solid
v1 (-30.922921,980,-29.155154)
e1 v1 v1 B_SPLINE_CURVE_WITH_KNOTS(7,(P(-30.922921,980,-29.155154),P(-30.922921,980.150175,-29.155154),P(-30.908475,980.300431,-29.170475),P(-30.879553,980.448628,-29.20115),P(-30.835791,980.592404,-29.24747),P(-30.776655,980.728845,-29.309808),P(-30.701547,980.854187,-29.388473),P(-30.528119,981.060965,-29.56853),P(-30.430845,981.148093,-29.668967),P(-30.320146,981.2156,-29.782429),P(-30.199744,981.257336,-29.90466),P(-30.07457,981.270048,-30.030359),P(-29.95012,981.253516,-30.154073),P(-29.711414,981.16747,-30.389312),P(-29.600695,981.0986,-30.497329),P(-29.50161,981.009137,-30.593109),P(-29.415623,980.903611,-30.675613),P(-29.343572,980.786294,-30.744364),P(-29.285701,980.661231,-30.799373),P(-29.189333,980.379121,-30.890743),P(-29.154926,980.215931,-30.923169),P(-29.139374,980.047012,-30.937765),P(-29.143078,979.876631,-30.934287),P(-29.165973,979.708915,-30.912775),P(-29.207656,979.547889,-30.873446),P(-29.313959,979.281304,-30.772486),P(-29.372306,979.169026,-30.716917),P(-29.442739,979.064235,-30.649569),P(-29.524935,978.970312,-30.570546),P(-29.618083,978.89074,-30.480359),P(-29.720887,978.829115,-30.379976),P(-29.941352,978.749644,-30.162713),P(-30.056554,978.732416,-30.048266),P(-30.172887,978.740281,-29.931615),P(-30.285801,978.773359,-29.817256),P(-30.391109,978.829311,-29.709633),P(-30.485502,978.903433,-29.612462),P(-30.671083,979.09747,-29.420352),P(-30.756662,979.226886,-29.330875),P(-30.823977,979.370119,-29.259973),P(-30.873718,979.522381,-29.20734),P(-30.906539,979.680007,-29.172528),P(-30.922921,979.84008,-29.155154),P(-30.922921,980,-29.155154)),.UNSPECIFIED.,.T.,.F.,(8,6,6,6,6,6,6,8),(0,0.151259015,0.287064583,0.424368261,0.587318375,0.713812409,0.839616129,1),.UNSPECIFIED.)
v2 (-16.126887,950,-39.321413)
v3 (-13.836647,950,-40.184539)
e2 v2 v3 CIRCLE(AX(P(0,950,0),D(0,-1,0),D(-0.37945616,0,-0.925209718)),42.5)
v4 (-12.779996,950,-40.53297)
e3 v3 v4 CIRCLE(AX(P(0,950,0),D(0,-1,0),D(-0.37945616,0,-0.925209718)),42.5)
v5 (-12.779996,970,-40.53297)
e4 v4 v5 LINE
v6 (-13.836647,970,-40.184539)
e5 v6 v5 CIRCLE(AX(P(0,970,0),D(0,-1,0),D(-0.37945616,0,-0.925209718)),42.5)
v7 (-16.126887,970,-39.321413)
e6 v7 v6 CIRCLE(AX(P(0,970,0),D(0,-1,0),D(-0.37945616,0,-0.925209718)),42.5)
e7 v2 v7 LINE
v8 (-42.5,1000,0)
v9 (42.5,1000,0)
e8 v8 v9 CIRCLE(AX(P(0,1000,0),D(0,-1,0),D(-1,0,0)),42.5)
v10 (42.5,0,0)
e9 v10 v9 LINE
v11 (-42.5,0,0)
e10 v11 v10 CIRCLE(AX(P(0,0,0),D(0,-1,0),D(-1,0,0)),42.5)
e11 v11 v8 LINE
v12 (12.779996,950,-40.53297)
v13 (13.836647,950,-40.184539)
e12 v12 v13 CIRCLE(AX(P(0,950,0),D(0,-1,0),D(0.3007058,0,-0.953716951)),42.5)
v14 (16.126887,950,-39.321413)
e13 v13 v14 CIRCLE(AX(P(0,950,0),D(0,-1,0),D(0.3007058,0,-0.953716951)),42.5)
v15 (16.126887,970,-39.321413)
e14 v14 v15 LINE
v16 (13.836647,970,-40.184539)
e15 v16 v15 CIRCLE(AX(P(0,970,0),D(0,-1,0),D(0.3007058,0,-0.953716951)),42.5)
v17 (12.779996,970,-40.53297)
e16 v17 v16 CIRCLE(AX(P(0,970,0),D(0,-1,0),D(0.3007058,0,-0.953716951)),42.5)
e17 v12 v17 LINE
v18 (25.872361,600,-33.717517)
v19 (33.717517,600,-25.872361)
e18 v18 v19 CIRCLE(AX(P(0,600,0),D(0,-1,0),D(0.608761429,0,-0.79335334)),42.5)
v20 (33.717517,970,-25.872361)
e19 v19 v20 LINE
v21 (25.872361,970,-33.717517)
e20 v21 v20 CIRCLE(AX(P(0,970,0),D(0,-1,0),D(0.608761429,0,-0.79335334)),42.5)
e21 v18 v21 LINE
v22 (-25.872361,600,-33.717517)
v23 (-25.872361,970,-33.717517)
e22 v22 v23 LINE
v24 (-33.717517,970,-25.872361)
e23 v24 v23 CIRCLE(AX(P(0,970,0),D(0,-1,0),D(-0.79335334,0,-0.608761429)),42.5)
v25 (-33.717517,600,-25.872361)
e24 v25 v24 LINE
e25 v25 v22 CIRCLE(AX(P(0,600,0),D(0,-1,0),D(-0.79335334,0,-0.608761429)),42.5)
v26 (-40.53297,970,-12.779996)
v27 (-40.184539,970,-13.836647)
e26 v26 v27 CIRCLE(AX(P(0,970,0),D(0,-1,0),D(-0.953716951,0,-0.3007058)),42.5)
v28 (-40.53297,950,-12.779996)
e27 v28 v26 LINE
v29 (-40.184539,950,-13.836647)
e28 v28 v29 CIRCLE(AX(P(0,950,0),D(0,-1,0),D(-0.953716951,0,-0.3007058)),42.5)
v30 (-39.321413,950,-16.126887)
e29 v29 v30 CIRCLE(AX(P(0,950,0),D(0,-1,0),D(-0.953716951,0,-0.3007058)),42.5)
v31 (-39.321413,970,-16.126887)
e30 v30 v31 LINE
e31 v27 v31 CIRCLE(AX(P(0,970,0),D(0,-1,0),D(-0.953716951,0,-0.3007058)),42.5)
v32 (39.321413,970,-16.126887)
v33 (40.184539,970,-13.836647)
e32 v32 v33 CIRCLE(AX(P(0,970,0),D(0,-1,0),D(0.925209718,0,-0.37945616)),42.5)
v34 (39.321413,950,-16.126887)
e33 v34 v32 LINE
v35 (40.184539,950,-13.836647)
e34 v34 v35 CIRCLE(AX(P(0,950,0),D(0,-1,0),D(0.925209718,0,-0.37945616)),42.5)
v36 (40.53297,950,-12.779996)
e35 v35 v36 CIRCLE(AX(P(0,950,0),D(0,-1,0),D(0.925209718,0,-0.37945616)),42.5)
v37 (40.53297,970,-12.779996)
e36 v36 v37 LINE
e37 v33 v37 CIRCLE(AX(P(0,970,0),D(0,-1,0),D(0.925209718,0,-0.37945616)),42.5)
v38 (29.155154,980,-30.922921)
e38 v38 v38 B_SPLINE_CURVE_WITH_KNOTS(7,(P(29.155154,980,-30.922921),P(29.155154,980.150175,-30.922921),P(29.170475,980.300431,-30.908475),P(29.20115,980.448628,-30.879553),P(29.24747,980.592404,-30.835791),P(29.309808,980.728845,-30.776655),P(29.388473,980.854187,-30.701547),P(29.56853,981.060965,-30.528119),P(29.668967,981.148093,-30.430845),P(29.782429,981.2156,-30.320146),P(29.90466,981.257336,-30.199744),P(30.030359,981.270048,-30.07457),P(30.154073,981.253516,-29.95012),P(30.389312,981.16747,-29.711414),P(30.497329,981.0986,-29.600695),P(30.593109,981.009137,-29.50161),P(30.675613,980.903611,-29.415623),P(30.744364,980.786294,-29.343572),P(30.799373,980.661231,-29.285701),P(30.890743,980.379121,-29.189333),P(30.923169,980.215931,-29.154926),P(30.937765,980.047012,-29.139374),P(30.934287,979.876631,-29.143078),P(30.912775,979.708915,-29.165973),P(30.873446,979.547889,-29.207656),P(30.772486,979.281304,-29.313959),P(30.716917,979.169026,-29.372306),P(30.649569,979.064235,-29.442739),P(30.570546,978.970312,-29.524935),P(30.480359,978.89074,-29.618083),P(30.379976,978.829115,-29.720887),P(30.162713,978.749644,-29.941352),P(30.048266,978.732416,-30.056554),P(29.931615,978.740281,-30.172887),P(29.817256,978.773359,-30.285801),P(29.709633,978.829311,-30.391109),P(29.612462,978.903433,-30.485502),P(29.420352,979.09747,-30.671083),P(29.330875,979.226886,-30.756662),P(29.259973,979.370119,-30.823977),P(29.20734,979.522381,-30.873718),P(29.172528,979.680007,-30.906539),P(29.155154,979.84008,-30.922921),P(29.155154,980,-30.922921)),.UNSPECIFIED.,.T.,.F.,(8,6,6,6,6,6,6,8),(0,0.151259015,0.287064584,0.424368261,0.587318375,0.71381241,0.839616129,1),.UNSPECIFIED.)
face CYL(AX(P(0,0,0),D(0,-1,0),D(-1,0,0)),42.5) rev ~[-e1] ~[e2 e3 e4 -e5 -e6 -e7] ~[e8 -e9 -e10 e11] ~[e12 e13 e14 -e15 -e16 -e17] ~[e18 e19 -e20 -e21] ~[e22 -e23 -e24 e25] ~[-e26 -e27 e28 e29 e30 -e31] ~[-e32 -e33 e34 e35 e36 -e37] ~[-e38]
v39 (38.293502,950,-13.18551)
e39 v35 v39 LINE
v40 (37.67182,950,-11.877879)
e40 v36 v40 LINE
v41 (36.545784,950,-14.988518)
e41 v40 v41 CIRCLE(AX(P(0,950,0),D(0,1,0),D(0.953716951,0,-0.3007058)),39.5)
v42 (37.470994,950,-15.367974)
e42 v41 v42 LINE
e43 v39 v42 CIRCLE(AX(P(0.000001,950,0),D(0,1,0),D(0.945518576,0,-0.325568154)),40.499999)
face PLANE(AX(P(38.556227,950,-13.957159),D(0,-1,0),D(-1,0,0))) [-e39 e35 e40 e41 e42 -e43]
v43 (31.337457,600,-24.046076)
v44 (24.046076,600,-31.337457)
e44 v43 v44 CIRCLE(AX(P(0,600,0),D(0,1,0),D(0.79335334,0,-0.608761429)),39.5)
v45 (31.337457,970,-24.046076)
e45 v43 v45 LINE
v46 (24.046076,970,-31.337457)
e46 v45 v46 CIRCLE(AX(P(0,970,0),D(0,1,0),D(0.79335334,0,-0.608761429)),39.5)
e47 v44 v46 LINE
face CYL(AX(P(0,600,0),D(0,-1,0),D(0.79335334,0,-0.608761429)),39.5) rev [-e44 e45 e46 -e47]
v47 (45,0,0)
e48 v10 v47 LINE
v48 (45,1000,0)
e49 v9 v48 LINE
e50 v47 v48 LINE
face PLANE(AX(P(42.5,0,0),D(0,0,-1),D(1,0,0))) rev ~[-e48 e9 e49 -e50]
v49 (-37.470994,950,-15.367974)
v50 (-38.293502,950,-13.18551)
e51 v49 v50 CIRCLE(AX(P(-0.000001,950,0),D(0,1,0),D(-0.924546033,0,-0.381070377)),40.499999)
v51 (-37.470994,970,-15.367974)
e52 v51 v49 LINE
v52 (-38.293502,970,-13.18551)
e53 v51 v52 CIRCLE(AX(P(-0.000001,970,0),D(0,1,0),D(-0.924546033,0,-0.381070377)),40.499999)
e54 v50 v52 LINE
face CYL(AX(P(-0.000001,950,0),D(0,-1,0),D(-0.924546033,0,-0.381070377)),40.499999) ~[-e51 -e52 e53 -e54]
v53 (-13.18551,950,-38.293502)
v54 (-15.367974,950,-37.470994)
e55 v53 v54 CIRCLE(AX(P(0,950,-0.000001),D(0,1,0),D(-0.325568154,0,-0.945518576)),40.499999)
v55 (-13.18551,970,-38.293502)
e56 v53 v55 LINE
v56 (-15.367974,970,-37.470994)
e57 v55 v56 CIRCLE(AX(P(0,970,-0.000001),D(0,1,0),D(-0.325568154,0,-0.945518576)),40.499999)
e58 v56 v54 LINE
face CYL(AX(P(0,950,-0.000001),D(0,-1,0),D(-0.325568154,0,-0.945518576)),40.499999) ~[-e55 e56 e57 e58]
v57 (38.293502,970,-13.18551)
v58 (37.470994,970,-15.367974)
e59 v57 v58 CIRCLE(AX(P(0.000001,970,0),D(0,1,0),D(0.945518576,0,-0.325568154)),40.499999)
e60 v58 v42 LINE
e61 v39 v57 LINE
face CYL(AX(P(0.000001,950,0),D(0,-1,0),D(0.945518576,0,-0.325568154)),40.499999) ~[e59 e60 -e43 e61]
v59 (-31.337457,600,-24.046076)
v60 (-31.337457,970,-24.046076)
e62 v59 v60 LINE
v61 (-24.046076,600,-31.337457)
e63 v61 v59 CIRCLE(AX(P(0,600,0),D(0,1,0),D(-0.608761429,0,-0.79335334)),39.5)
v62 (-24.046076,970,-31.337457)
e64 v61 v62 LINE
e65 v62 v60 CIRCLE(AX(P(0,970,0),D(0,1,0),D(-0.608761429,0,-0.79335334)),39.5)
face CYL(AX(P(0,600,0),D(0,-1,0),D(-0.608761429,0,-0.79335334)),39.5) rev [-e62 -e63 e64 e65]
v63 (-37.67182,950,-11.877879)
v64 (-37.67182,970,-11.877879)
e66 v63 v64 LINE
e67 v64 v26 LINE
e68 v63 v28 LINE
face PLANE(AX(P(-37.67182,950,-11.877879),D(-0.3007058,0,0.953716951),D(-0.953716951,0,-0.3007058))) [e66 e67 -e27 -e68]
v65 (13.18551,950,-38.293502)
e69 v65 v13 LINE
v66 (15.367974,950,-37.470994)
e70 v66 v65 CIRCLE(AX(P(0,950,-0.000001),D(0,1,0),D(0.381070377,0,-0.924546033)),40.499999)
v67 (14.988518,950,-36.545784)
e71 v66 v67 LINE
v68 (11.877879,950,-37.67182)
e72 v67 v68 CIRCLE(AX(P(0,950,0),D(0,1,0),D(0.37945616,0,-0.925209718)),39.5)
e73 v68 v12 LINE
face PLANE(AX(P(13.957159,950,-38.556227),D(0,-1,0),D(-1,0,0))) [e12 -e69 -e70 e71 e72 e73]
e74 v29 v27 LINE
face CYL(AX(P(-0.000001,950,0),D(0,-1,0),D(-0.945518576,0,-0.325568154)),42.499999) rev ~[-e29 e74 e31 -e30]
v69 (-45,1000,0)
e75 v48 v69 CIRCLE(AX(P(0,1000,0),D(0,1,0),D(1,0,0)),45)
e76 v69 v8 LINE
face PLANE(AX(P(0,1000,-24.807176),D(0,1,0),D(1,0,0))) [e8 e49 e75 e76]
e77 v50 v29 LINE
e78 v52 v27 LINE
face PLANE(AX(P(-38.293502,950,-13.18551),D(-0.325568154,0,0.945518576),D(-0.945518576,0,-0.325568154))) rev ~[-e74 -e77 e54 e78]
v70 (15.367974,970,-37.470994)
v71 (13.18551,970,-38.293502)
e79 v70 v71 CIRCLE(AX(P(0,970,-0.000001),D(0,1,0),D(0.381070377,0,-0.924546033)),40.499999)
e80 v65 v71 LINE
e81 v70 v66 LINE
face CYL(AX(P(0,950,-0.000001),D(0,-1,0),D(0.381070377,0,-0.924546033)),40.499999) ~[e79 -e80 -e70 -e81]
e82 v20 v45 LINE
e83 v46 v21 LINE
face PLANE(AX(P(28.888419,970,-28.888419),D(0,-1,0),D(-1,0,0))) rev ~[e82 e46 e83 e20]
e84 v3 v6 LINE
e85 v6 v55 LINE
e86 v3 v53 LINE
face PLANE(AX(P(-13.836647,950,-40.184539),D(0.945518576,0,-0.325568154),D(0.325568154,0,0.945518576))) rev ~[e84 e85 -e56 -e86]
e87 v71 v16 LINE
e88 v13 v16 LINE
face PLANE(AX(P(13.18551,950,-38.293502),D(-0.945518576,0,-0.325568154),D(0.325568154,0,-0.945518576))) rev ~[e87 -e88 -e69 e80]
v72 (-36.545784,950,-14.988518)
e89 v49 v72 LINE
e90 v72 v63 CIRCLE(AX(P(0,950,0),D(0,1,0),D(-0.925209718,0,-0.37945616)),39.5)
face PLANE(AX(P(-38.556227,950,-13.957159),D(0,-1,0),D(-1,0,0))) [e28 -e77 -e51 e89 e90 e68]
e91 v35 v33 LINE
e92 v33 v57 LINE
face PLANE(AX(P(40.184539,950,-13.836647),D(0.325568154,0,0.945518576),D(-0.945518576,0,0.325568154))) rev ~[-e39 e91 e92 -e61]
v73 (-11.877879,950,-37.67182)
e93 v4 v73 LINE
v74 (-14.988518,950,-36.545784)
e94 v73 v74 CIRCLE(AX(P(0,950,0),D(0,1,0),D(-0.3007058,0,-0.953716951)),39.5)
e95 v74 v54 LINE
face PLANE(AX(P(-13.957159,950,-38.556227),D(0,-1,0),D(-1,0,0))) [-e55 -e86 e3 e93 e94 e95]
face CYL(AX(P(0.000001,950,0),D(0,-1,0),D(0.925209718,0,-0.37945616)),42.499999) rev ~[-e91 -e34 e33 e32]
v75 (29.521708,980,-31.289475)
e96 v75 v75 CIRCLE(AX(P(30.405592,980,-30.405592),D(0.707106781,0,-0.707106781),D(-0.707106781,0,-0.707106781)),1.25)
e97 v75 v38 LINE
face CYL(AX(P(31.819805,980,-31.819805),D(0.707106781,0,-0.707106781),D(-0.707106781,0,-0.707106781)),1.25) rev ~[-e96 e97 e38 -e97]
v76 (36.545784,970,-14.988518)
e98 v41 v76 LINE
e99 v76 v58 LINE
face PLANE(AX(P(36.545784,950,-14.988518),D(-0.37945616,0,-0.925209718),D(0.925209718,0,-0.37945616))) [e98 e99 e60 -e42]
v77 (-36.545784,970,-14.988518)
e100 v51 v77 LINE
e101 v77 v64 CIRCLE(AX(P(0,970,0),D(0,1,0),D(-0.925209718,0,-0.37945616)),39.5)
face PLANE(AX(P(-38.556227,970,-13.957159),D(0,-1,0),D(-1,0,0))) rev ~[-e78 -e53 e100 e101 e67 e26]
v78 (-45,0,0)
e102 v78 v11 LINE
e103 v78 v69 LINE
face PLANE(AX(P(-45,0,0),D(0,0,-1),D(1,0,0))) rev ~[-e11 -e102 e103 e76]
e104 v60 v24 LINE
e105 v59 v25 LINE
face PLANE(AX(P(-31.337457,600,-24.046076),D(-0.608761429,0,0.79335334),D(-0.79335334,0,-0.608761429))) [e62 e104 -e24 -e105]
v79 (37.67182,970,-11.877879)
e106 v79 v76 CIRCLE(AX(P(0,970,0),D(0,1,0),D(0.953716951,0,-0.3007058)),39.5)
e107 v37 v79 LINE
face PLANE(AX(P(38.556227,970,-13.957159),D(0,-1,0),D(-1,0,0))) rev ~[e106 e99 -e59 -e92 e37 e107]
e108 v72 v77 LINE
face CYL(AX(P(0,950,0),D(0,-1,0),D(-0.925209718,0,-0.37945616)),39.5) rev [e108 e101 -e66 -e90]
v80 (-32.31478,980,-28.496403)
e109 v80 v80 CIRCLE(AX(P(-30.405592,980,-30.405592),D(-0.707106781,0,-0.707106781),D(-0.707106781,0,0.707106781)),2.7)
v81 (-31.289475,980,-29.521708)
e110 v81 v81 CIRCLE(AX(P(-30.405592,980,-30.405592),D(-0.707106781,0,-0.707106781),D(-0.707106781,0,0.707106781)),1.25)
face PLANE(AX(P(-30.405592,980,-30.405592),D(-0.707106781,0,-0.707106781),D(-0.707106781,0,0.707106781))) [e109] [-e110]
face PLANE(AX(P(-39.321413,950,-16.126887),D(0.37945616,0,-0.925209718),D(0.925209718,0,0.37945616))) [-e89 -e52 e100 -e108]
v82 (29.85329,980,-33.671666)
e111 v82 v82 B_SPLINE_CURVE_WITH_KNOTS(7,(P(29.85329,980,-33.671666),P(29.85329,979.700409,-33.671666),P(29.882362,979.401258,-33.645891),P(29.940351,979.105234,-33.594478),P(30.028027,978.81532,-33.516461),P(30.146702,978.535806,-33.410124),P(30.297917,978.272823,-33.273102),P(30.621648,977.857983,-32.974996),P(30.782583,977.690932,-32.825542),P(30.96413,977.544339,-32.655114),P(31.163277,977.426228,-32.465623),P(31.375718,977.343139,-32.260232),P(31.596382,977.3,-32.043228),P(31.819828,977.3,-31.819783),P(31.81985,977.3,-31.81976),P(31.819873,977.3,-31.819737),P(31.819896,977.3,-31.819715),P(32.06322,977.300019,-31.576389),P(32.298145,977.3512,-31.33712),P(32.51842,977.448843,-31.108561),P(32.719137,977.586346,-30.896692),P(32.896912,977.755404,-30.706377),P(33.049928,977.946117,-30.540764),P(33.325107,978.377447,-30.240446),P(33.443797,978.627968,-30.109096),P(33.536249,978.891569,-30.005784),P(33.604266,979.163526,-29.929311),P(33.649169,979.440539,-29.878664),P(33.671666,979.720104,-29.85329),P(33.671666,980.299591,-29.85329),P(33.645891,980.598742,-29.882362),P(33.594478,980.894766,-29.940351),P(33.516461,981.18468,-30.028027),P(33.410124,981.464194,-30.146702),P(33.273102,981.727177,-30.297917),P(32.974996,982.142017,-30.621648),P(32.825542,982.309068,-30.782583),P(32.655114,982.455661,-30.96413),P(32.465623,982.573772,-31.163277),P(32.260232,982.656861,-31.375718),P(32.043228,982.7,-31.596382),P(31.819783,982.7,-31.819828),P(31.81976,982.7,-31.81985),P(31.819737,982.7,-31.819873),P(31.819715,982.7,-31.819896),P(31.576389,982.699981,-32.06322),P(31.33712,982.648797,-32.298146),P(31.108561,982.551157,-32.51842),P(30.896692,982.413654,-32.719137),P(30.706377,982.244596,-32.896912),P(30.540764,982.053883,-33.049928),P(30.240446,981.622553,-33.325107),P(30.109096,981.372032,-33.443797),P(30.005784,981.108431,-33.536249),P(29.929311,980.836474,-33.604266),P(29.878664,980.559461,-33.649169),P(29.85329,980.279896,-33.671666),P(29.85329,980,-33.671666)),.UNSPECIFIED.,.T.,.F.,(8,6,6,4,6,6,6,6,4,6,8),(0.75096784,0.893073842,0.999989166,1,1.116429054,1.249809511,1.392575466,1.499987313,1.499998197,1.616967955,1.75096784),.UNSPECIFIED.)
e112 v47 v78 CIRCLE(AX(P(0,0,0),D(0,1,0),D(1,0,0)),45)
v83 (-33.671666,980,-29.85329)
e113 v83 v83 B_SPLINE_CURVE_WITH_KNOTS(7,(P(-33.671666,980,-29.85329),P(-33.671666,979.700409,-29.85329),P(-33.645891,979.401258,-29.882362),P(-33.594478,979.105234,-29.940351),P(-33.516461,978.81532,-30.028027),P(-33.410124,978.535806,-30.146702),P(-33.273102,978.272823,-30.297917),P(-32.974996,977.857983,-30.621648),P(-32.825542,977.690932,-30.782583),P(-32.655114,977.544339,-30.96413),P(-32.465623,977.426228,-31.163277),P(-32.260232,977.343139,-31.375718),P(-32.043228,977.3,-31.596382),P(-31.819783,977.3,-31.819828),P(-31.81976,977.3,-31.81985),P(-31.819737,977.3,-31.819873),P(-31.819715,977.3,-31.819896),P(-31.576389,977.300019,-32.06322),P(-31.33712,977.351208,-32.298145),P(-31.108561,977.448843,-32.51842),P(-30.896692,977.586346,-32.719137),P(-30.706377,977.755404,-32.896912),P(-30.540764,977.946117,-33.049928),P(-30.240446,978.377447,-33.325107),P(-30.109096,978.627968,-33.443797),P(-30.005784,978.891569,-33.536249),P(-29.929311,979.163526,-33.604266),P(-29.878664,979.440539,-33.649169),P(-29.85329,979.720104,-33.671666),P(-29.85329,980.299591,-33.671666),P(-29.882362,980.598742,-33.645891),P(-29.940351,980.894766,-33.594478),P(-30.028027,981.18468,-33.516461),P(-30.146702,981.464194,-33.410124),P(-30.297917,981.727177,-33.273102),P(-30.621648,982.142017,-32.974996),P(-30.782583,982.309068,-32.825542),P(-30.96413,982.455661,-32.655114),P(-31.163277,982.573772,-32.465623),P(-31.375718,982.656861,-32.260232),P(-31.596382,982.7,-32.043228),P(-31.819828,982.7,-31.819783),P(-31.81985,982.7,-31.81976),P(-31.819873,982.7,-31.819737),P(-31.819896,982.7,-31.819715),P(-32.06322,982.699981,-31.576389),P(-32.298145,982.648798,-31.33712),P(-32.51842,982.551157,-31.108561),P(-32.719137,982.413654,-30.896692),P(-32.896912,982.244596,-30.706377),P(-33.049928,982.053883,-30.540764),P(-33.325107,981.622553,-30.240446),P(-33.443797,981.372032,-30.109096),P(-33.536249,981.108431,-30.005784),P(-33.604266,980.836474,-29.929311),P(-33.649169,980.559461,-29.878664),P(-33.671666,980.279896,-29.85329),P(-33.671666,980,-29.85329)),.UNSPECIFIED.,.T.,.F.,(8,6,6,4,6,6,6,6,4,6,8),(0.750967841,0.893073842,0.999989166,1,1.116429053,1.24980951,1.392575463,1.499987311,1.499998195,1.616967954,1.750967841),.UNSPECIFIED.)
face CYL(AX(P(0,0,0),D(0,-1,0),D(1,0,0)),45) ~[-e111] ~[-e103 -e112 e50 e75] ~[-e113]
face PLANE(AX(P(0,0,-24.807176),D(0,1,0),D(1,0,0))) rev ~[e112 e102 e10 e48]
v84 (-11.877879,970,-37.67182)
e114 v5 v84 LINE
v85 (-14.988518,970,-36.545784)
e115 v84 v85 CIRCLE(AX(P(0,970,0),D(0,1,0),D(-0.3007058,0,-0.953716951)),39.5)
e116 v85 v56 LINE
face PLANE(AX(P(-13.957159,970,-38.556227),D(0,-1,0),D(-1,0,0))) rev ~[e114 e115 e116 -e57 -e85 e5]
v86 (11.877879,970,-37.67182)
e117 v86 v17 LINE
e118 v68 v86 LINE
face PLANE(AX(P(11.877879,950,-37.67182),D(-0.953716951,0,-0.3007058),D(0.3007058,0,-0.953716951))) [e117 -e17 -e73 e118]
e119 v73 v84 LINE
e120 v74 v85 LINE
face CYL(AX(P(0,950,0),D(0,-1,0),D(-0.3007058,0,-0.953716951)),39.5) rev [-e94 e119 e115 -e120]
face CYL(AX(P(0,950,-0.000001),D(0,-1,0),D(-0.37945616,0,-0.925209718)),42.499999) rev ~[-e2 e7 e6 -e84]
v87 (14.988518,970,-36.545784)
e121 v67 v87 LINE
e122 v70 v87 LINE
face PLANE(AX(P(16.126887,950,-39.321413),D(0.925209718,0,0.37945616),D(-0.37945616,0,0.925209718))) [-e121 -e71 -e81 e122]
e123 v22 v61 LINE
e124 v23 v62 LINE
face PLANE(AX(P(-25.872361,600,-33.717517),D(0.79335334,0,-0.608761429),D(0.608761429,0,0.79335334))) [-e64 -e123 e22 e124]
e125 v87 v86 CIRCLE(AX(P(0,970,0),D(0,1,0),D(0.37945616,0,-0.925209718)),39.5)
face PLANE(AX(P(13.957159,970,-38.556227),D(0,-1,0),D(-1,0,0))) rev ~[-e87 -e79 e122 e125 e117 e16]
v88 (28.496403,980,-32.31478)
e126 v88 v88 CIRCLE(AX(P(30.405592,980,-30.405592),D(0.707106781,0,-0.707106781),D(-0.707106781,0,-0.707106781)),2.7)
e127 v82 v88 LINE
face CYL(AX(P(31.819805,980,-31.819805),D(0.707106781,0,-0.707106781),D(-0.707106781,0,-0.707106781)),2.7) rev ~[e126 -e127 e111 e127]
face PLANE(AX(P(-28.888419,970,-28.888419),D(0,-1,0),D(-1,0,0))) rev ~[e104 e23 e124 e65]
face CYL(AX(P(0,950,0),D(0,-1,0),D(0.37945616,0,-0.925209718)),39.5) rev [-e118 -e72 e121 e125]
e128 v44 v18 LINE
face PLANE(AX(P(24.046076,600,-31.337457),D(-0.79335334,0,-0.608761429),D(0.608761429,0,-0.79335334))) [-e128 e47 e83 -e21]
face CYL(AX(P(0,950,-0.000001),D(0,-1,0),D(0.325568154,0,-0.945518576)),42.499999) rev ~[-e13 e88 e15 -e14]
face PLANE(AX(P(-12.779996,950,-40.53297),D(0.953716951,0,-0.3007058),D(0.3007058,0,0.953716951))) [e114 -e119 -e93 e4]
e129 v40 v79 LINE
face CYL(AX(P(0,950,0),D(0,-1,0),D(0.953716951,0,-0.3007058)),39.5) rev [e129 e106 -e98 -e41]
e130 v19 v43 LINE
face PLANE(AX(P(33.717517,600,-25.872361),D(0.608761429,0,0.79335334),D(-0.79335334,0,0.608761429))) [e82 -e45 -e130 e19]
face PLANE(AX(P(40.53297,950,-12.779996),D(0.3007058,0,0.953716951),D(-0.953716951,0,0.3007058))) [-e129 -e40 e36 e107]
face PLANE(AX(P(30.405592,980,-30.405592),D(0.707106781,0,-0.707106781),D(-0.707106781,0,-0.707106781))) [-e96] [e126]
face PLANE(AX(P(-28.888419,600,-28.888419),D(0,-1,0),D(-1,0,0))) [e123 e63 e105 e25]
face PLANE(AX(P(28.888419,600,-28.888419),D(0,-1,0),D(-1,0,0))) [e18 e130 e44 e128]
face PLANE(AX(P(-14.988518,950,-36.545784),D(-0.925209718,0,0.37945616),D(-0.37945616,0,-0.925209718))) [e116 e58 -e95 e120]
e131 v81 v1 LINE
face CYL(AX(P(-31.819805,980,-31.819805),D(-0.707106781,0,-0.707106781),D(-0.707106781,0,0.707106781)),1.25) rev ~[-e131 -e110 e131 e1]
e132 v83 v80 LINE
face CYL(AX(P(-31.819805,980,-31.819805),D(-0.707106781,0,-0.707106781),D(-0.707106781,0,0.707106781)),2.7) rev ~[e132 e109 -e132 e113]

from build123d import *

# Parameters (mm, degrees)
EXTRUDE_1_DEPTH     = 1000
EXTRUDE_START       = -400
EXTRUDE_3_DEPTH     = 370
EXTRUDE_START_2     = -50
EXTRUDE_4_DEPTH     = 20
CUT_EXTRUDE_START   = -20
CUT_EXTRUDE_1_DEPTH = 20
SKETCH_8_R          = 2.7
CUT_EXTRUDE_4_DEPTH = 2
SKETCH_9_R          = 1.25
CUT_EXTRUDE_5_DEPTH = 6
SKETCH_10_R         = 2.7
CUT_EXTRUDE_6_DEPTH = 2
SKETCH_11_R         = 1.25
CUT_EXTRUDE_7_DEPTH = 6


with BuildPart() as part:
    # 草图1 → 凸台-拉伸1 (new body)
    with BuildSketch(Plane(origin=(0, 0, 0), x_dir=(1, 0, 0), z_dir=(0, 1, 0))):
        with BuildLine():
            Line((-45, 0), (-42.5, 0))
            ThreePointArc((-42.5, 0), (0, 42.5), (42.5, 0))
            Line((42.5, 0), (45, 0))
            ThreePointArc((45, 0), (0, 45), (-45, 0))
        make_face()
    extrude(amount=EXTRUDE_1_DEPTH)

    # 草图3 → 凸台-拉伸3 (add)
    with BuildSketch(Plane(origin=(0, 1000, 0), x_dir=(1, 0, 0), z_dir=(0, 1, 0)).offset(EXTRUDE_START)):
        with BuildLine():
            Line((-31.337456942, 24.046076446), (-33.717516962, 25.872360733))
            ThreePointArc((-33.717516962, 25.872360733), (-30.0520382, 30.0520382), (-25.872360733, 33.717516962))
            Line((-25.872360733, 33.717516962), (-24.046076446, 31.337456942))
            ThreePointArc((-24.046076446, 31.337456942), (-27.930717857, 27.930717857), (-31.337456942, 24.046076446))
        make_face()
        with BuildLine():
            Line((24.046076446, 31.337456942), (25.872360733, 33.717516962))
            ThreePointArc((25.872360733, 33.717516962), (30.0520382, 30.0520382), (33.717516962, 25.872360733))
            Line((33.717516962, 25.872360733), (31.337456942, 24.046076446))
            ThreePointArc((31.337456942, 24.046076446), (27.930717857, 27.930717857), (24.046076446, 31.337456942))
        make_face()
    extrude(amount=EXTRUDE_3_DEPTH)

    # 草图4 → 凸台-拉伸4 (add)
    with BuildSketch(Plane(origin=(0, 1000, 0), x_dir=(1, 0, 0), z_dir=(0, 1, 0)).offset(EXTRUDE_START_2)):
        with BuildLine():
            Line((-37.671819555, 11.87787908), (-40.532970407, 12.779996479))
            ThreePointArc((-40.532970407, 12.779996479), (-39.962245398, 14.466130884), (-39.321413031, 16.12688678))
            Line((-39.321413031, 16.12688678), (-36.545783876, 14.988518301))
            ThreePointArc((-36.545783876, 14.988518301), (-37.141381017, 13.444992233), (-37.671819555, 11.87787908))
        make_face()
        with BuildLine():
            Line((36.545783876, 14.988518301), (39.321413031, 16.12688678))
            ThreePointArc((39.321413031, 16.12688678), (39.962245398, 14.466130884), (40.532970407, 12.779996479))
            Line((40.532970407, 12.779996479), (37.671819555, 11.87787908))
            ThreePointArc((37.671819555, 11.87787908), (37.141381017, 13.444992233), (36.545783876, 14.988518301))
        make_face()
        with BuildLine():
            Line((11.87787908, 37.671819555), (12.779996479, 40.532970407))
            ThreePointArc((12.779996479, 40.532970407), (14.466130884, 39.962245398), (16.12688678, 39.321413031))
            Line((16.12688678, 39.321413031), (14.988518301, 36.545783876))
            ThreePointArc((14.988518301, 36.545783876), (13.444992233, 37.141381017), (11.87787908, 37.671819555))
        make_face()
        with BuildLine():
            Line((-14.988518301, 36.545783876), (-16.12688678, 39.321413031))
            ThreePointArc((-16.12688678, 39.321413031), (-14.466130884, 39.962245398), (-12.779996479, 40.532970407))
            Line((-12.779996479, 40.532970407), (-11.87787908, 37.671819555))
            ThreePointArc((-11.87787908, 37.671819555), (-13.444992233, 37.141381017), (-14.988518301, 36.545783876))
        make_face()
    extrude(amount=EXTRUDE_4_DEPTH)

    # 草图5 → 切除-拉伸1 (cut)
    with BuildSketch(Plane(origin=(0, 970, 0), x_dir=(1, 0, 0), z_dir=(0, 1, 0)).offset(CUT_EXTRUDE_START)):
        with BuildLine():
            Line((-38.293502312, 13.185510256), (-40.184539463, 13.836646564))
            ThreePointArc((-40.184539463, 13.836646564), (-39.769465933, 14.987981166), (-39.321413031, 16.12688678))
            Line((-39.321413031, 16.12688678), (-37.444114361, 15.433350242))
            ThreePointArc((-37.444114361, 15.433350242), (-37.885483249, 14.315731173), (-38.293502312, 13.185510256))
        make_face()
        with BuildLine():
            Line((-15.433350242, 37.444114361), (-16.12688678, 39.321413031))
            ThreePointArc((-16.12688678, 39.321413031), (-14.987981166, 39.769465933), (-13.836646564, 40.184539463))
            Line((-13.836646564, 40.184539463), (-13.185510256, 38.293502312))
            ThreePointArc((-13.185510256, 38.293502312), (-14.315731173, 37.885483249), (-15.433350242, 37.444114361))
        make_face()
        with BuildLine():
            Line((13.185510256, 38.293502312), (13.836646564, 40.184539463))
            ThreePointArc((13.836646564, 40.184539463), (14.987981166, 39.769465933), (16.12688678, 39.321413031))
            Line((16.12688678, 39.321413031), (15.433350242, 37.444114361))
            ThreePointArc((15.433350242, 37.444114361), (14.315731173, 37.885483249), (13.185510256, 38.293502312))
        make_face()
        with BuildLine():
            Line((37.444114361, 15.433350242), (39.321413031, 16.12688678))
            ThreePointArc((39.321413031, 16.12688678), (39.769465933, 14.987981166), (40.184539463, 13.836646564))
            Line((40.184539463, 13.836646564), (38.293502312, 13.185510256))
            ThreePointArc((38.293502312, 13.185510256), (37.885483249, 14.315731173), (37.444114361, 15.433350242))
        make_face()
    extrude(amount=CUT_EXTRUDE_1_DEPTH, mode=Mode.SUBTRACT)

    # 草图8 → 切除-拉伸4 (cut)
    with BuildSketch(Plane(origin=(-31.819805153, 0, -31.819805153), x_dir=(0, -1, 0), z_dir=(-0.7071067811865488, 0, -0.7071067811865464))):
        with Locations(Location((-980, 0, 0), (0, 0, 90))):
            Circle(SKETCH_8_R)
    extrude(amount=-CUT_EXTRUDE_4_DEPTH, mode=Mode.SUBTRACT)

    # 草图9 → 切除-拉伸5 (cut)
    with BuildSketch(Plane(origin=(-31.819805153, 0, -31.819805153), x_dir=(0, -1, 0), z_dir=(-0.7071067811865488, 0, -0.7071067811865464))):
        with Locations(Location((-980, 0, 0), (0, 0, 90))):
            Circle(SKETCH_9_R)
    extrude(amount=-CUT_EXTRUDE_5_DEPTH, mode=Mode.SUBTRACT)

    # 草图10 → 切除-拉伸6 (cut)
    with BuildSketch(Plane(origin=(31.819805153, 0, -31.819805153), x_dir=(0, -1, 0), z_dir=(0.7071067811865488, 0, -0.7071067811865464))):
        with Locations(Location((-980, 0, 0), (0, 0, 90))):
            Circle(SKETCH_10_R)
    extrude(amount=-CUT_EXTRUDE_6_DEPTH, mode=Mode.SUBTRACT)

    # 草图11 → 切除-拉伸7 (cut)
    with BuildSketch(Plane(origin=(31.819805153, 0, -31.819805153), x_dir=(0, -1, 0), z_dir=(0.7071067811865488, 0, -0.7071067811865464))):
        with Locations(Location((-980, 0, 0), (0, 0, 90))):
            Circle(SKETCH_11_R)
    extrude(amount=-CUT_EXTRUDE_7_DEPTH, mode=Mode.SUBTRACT)


solid = part.part
